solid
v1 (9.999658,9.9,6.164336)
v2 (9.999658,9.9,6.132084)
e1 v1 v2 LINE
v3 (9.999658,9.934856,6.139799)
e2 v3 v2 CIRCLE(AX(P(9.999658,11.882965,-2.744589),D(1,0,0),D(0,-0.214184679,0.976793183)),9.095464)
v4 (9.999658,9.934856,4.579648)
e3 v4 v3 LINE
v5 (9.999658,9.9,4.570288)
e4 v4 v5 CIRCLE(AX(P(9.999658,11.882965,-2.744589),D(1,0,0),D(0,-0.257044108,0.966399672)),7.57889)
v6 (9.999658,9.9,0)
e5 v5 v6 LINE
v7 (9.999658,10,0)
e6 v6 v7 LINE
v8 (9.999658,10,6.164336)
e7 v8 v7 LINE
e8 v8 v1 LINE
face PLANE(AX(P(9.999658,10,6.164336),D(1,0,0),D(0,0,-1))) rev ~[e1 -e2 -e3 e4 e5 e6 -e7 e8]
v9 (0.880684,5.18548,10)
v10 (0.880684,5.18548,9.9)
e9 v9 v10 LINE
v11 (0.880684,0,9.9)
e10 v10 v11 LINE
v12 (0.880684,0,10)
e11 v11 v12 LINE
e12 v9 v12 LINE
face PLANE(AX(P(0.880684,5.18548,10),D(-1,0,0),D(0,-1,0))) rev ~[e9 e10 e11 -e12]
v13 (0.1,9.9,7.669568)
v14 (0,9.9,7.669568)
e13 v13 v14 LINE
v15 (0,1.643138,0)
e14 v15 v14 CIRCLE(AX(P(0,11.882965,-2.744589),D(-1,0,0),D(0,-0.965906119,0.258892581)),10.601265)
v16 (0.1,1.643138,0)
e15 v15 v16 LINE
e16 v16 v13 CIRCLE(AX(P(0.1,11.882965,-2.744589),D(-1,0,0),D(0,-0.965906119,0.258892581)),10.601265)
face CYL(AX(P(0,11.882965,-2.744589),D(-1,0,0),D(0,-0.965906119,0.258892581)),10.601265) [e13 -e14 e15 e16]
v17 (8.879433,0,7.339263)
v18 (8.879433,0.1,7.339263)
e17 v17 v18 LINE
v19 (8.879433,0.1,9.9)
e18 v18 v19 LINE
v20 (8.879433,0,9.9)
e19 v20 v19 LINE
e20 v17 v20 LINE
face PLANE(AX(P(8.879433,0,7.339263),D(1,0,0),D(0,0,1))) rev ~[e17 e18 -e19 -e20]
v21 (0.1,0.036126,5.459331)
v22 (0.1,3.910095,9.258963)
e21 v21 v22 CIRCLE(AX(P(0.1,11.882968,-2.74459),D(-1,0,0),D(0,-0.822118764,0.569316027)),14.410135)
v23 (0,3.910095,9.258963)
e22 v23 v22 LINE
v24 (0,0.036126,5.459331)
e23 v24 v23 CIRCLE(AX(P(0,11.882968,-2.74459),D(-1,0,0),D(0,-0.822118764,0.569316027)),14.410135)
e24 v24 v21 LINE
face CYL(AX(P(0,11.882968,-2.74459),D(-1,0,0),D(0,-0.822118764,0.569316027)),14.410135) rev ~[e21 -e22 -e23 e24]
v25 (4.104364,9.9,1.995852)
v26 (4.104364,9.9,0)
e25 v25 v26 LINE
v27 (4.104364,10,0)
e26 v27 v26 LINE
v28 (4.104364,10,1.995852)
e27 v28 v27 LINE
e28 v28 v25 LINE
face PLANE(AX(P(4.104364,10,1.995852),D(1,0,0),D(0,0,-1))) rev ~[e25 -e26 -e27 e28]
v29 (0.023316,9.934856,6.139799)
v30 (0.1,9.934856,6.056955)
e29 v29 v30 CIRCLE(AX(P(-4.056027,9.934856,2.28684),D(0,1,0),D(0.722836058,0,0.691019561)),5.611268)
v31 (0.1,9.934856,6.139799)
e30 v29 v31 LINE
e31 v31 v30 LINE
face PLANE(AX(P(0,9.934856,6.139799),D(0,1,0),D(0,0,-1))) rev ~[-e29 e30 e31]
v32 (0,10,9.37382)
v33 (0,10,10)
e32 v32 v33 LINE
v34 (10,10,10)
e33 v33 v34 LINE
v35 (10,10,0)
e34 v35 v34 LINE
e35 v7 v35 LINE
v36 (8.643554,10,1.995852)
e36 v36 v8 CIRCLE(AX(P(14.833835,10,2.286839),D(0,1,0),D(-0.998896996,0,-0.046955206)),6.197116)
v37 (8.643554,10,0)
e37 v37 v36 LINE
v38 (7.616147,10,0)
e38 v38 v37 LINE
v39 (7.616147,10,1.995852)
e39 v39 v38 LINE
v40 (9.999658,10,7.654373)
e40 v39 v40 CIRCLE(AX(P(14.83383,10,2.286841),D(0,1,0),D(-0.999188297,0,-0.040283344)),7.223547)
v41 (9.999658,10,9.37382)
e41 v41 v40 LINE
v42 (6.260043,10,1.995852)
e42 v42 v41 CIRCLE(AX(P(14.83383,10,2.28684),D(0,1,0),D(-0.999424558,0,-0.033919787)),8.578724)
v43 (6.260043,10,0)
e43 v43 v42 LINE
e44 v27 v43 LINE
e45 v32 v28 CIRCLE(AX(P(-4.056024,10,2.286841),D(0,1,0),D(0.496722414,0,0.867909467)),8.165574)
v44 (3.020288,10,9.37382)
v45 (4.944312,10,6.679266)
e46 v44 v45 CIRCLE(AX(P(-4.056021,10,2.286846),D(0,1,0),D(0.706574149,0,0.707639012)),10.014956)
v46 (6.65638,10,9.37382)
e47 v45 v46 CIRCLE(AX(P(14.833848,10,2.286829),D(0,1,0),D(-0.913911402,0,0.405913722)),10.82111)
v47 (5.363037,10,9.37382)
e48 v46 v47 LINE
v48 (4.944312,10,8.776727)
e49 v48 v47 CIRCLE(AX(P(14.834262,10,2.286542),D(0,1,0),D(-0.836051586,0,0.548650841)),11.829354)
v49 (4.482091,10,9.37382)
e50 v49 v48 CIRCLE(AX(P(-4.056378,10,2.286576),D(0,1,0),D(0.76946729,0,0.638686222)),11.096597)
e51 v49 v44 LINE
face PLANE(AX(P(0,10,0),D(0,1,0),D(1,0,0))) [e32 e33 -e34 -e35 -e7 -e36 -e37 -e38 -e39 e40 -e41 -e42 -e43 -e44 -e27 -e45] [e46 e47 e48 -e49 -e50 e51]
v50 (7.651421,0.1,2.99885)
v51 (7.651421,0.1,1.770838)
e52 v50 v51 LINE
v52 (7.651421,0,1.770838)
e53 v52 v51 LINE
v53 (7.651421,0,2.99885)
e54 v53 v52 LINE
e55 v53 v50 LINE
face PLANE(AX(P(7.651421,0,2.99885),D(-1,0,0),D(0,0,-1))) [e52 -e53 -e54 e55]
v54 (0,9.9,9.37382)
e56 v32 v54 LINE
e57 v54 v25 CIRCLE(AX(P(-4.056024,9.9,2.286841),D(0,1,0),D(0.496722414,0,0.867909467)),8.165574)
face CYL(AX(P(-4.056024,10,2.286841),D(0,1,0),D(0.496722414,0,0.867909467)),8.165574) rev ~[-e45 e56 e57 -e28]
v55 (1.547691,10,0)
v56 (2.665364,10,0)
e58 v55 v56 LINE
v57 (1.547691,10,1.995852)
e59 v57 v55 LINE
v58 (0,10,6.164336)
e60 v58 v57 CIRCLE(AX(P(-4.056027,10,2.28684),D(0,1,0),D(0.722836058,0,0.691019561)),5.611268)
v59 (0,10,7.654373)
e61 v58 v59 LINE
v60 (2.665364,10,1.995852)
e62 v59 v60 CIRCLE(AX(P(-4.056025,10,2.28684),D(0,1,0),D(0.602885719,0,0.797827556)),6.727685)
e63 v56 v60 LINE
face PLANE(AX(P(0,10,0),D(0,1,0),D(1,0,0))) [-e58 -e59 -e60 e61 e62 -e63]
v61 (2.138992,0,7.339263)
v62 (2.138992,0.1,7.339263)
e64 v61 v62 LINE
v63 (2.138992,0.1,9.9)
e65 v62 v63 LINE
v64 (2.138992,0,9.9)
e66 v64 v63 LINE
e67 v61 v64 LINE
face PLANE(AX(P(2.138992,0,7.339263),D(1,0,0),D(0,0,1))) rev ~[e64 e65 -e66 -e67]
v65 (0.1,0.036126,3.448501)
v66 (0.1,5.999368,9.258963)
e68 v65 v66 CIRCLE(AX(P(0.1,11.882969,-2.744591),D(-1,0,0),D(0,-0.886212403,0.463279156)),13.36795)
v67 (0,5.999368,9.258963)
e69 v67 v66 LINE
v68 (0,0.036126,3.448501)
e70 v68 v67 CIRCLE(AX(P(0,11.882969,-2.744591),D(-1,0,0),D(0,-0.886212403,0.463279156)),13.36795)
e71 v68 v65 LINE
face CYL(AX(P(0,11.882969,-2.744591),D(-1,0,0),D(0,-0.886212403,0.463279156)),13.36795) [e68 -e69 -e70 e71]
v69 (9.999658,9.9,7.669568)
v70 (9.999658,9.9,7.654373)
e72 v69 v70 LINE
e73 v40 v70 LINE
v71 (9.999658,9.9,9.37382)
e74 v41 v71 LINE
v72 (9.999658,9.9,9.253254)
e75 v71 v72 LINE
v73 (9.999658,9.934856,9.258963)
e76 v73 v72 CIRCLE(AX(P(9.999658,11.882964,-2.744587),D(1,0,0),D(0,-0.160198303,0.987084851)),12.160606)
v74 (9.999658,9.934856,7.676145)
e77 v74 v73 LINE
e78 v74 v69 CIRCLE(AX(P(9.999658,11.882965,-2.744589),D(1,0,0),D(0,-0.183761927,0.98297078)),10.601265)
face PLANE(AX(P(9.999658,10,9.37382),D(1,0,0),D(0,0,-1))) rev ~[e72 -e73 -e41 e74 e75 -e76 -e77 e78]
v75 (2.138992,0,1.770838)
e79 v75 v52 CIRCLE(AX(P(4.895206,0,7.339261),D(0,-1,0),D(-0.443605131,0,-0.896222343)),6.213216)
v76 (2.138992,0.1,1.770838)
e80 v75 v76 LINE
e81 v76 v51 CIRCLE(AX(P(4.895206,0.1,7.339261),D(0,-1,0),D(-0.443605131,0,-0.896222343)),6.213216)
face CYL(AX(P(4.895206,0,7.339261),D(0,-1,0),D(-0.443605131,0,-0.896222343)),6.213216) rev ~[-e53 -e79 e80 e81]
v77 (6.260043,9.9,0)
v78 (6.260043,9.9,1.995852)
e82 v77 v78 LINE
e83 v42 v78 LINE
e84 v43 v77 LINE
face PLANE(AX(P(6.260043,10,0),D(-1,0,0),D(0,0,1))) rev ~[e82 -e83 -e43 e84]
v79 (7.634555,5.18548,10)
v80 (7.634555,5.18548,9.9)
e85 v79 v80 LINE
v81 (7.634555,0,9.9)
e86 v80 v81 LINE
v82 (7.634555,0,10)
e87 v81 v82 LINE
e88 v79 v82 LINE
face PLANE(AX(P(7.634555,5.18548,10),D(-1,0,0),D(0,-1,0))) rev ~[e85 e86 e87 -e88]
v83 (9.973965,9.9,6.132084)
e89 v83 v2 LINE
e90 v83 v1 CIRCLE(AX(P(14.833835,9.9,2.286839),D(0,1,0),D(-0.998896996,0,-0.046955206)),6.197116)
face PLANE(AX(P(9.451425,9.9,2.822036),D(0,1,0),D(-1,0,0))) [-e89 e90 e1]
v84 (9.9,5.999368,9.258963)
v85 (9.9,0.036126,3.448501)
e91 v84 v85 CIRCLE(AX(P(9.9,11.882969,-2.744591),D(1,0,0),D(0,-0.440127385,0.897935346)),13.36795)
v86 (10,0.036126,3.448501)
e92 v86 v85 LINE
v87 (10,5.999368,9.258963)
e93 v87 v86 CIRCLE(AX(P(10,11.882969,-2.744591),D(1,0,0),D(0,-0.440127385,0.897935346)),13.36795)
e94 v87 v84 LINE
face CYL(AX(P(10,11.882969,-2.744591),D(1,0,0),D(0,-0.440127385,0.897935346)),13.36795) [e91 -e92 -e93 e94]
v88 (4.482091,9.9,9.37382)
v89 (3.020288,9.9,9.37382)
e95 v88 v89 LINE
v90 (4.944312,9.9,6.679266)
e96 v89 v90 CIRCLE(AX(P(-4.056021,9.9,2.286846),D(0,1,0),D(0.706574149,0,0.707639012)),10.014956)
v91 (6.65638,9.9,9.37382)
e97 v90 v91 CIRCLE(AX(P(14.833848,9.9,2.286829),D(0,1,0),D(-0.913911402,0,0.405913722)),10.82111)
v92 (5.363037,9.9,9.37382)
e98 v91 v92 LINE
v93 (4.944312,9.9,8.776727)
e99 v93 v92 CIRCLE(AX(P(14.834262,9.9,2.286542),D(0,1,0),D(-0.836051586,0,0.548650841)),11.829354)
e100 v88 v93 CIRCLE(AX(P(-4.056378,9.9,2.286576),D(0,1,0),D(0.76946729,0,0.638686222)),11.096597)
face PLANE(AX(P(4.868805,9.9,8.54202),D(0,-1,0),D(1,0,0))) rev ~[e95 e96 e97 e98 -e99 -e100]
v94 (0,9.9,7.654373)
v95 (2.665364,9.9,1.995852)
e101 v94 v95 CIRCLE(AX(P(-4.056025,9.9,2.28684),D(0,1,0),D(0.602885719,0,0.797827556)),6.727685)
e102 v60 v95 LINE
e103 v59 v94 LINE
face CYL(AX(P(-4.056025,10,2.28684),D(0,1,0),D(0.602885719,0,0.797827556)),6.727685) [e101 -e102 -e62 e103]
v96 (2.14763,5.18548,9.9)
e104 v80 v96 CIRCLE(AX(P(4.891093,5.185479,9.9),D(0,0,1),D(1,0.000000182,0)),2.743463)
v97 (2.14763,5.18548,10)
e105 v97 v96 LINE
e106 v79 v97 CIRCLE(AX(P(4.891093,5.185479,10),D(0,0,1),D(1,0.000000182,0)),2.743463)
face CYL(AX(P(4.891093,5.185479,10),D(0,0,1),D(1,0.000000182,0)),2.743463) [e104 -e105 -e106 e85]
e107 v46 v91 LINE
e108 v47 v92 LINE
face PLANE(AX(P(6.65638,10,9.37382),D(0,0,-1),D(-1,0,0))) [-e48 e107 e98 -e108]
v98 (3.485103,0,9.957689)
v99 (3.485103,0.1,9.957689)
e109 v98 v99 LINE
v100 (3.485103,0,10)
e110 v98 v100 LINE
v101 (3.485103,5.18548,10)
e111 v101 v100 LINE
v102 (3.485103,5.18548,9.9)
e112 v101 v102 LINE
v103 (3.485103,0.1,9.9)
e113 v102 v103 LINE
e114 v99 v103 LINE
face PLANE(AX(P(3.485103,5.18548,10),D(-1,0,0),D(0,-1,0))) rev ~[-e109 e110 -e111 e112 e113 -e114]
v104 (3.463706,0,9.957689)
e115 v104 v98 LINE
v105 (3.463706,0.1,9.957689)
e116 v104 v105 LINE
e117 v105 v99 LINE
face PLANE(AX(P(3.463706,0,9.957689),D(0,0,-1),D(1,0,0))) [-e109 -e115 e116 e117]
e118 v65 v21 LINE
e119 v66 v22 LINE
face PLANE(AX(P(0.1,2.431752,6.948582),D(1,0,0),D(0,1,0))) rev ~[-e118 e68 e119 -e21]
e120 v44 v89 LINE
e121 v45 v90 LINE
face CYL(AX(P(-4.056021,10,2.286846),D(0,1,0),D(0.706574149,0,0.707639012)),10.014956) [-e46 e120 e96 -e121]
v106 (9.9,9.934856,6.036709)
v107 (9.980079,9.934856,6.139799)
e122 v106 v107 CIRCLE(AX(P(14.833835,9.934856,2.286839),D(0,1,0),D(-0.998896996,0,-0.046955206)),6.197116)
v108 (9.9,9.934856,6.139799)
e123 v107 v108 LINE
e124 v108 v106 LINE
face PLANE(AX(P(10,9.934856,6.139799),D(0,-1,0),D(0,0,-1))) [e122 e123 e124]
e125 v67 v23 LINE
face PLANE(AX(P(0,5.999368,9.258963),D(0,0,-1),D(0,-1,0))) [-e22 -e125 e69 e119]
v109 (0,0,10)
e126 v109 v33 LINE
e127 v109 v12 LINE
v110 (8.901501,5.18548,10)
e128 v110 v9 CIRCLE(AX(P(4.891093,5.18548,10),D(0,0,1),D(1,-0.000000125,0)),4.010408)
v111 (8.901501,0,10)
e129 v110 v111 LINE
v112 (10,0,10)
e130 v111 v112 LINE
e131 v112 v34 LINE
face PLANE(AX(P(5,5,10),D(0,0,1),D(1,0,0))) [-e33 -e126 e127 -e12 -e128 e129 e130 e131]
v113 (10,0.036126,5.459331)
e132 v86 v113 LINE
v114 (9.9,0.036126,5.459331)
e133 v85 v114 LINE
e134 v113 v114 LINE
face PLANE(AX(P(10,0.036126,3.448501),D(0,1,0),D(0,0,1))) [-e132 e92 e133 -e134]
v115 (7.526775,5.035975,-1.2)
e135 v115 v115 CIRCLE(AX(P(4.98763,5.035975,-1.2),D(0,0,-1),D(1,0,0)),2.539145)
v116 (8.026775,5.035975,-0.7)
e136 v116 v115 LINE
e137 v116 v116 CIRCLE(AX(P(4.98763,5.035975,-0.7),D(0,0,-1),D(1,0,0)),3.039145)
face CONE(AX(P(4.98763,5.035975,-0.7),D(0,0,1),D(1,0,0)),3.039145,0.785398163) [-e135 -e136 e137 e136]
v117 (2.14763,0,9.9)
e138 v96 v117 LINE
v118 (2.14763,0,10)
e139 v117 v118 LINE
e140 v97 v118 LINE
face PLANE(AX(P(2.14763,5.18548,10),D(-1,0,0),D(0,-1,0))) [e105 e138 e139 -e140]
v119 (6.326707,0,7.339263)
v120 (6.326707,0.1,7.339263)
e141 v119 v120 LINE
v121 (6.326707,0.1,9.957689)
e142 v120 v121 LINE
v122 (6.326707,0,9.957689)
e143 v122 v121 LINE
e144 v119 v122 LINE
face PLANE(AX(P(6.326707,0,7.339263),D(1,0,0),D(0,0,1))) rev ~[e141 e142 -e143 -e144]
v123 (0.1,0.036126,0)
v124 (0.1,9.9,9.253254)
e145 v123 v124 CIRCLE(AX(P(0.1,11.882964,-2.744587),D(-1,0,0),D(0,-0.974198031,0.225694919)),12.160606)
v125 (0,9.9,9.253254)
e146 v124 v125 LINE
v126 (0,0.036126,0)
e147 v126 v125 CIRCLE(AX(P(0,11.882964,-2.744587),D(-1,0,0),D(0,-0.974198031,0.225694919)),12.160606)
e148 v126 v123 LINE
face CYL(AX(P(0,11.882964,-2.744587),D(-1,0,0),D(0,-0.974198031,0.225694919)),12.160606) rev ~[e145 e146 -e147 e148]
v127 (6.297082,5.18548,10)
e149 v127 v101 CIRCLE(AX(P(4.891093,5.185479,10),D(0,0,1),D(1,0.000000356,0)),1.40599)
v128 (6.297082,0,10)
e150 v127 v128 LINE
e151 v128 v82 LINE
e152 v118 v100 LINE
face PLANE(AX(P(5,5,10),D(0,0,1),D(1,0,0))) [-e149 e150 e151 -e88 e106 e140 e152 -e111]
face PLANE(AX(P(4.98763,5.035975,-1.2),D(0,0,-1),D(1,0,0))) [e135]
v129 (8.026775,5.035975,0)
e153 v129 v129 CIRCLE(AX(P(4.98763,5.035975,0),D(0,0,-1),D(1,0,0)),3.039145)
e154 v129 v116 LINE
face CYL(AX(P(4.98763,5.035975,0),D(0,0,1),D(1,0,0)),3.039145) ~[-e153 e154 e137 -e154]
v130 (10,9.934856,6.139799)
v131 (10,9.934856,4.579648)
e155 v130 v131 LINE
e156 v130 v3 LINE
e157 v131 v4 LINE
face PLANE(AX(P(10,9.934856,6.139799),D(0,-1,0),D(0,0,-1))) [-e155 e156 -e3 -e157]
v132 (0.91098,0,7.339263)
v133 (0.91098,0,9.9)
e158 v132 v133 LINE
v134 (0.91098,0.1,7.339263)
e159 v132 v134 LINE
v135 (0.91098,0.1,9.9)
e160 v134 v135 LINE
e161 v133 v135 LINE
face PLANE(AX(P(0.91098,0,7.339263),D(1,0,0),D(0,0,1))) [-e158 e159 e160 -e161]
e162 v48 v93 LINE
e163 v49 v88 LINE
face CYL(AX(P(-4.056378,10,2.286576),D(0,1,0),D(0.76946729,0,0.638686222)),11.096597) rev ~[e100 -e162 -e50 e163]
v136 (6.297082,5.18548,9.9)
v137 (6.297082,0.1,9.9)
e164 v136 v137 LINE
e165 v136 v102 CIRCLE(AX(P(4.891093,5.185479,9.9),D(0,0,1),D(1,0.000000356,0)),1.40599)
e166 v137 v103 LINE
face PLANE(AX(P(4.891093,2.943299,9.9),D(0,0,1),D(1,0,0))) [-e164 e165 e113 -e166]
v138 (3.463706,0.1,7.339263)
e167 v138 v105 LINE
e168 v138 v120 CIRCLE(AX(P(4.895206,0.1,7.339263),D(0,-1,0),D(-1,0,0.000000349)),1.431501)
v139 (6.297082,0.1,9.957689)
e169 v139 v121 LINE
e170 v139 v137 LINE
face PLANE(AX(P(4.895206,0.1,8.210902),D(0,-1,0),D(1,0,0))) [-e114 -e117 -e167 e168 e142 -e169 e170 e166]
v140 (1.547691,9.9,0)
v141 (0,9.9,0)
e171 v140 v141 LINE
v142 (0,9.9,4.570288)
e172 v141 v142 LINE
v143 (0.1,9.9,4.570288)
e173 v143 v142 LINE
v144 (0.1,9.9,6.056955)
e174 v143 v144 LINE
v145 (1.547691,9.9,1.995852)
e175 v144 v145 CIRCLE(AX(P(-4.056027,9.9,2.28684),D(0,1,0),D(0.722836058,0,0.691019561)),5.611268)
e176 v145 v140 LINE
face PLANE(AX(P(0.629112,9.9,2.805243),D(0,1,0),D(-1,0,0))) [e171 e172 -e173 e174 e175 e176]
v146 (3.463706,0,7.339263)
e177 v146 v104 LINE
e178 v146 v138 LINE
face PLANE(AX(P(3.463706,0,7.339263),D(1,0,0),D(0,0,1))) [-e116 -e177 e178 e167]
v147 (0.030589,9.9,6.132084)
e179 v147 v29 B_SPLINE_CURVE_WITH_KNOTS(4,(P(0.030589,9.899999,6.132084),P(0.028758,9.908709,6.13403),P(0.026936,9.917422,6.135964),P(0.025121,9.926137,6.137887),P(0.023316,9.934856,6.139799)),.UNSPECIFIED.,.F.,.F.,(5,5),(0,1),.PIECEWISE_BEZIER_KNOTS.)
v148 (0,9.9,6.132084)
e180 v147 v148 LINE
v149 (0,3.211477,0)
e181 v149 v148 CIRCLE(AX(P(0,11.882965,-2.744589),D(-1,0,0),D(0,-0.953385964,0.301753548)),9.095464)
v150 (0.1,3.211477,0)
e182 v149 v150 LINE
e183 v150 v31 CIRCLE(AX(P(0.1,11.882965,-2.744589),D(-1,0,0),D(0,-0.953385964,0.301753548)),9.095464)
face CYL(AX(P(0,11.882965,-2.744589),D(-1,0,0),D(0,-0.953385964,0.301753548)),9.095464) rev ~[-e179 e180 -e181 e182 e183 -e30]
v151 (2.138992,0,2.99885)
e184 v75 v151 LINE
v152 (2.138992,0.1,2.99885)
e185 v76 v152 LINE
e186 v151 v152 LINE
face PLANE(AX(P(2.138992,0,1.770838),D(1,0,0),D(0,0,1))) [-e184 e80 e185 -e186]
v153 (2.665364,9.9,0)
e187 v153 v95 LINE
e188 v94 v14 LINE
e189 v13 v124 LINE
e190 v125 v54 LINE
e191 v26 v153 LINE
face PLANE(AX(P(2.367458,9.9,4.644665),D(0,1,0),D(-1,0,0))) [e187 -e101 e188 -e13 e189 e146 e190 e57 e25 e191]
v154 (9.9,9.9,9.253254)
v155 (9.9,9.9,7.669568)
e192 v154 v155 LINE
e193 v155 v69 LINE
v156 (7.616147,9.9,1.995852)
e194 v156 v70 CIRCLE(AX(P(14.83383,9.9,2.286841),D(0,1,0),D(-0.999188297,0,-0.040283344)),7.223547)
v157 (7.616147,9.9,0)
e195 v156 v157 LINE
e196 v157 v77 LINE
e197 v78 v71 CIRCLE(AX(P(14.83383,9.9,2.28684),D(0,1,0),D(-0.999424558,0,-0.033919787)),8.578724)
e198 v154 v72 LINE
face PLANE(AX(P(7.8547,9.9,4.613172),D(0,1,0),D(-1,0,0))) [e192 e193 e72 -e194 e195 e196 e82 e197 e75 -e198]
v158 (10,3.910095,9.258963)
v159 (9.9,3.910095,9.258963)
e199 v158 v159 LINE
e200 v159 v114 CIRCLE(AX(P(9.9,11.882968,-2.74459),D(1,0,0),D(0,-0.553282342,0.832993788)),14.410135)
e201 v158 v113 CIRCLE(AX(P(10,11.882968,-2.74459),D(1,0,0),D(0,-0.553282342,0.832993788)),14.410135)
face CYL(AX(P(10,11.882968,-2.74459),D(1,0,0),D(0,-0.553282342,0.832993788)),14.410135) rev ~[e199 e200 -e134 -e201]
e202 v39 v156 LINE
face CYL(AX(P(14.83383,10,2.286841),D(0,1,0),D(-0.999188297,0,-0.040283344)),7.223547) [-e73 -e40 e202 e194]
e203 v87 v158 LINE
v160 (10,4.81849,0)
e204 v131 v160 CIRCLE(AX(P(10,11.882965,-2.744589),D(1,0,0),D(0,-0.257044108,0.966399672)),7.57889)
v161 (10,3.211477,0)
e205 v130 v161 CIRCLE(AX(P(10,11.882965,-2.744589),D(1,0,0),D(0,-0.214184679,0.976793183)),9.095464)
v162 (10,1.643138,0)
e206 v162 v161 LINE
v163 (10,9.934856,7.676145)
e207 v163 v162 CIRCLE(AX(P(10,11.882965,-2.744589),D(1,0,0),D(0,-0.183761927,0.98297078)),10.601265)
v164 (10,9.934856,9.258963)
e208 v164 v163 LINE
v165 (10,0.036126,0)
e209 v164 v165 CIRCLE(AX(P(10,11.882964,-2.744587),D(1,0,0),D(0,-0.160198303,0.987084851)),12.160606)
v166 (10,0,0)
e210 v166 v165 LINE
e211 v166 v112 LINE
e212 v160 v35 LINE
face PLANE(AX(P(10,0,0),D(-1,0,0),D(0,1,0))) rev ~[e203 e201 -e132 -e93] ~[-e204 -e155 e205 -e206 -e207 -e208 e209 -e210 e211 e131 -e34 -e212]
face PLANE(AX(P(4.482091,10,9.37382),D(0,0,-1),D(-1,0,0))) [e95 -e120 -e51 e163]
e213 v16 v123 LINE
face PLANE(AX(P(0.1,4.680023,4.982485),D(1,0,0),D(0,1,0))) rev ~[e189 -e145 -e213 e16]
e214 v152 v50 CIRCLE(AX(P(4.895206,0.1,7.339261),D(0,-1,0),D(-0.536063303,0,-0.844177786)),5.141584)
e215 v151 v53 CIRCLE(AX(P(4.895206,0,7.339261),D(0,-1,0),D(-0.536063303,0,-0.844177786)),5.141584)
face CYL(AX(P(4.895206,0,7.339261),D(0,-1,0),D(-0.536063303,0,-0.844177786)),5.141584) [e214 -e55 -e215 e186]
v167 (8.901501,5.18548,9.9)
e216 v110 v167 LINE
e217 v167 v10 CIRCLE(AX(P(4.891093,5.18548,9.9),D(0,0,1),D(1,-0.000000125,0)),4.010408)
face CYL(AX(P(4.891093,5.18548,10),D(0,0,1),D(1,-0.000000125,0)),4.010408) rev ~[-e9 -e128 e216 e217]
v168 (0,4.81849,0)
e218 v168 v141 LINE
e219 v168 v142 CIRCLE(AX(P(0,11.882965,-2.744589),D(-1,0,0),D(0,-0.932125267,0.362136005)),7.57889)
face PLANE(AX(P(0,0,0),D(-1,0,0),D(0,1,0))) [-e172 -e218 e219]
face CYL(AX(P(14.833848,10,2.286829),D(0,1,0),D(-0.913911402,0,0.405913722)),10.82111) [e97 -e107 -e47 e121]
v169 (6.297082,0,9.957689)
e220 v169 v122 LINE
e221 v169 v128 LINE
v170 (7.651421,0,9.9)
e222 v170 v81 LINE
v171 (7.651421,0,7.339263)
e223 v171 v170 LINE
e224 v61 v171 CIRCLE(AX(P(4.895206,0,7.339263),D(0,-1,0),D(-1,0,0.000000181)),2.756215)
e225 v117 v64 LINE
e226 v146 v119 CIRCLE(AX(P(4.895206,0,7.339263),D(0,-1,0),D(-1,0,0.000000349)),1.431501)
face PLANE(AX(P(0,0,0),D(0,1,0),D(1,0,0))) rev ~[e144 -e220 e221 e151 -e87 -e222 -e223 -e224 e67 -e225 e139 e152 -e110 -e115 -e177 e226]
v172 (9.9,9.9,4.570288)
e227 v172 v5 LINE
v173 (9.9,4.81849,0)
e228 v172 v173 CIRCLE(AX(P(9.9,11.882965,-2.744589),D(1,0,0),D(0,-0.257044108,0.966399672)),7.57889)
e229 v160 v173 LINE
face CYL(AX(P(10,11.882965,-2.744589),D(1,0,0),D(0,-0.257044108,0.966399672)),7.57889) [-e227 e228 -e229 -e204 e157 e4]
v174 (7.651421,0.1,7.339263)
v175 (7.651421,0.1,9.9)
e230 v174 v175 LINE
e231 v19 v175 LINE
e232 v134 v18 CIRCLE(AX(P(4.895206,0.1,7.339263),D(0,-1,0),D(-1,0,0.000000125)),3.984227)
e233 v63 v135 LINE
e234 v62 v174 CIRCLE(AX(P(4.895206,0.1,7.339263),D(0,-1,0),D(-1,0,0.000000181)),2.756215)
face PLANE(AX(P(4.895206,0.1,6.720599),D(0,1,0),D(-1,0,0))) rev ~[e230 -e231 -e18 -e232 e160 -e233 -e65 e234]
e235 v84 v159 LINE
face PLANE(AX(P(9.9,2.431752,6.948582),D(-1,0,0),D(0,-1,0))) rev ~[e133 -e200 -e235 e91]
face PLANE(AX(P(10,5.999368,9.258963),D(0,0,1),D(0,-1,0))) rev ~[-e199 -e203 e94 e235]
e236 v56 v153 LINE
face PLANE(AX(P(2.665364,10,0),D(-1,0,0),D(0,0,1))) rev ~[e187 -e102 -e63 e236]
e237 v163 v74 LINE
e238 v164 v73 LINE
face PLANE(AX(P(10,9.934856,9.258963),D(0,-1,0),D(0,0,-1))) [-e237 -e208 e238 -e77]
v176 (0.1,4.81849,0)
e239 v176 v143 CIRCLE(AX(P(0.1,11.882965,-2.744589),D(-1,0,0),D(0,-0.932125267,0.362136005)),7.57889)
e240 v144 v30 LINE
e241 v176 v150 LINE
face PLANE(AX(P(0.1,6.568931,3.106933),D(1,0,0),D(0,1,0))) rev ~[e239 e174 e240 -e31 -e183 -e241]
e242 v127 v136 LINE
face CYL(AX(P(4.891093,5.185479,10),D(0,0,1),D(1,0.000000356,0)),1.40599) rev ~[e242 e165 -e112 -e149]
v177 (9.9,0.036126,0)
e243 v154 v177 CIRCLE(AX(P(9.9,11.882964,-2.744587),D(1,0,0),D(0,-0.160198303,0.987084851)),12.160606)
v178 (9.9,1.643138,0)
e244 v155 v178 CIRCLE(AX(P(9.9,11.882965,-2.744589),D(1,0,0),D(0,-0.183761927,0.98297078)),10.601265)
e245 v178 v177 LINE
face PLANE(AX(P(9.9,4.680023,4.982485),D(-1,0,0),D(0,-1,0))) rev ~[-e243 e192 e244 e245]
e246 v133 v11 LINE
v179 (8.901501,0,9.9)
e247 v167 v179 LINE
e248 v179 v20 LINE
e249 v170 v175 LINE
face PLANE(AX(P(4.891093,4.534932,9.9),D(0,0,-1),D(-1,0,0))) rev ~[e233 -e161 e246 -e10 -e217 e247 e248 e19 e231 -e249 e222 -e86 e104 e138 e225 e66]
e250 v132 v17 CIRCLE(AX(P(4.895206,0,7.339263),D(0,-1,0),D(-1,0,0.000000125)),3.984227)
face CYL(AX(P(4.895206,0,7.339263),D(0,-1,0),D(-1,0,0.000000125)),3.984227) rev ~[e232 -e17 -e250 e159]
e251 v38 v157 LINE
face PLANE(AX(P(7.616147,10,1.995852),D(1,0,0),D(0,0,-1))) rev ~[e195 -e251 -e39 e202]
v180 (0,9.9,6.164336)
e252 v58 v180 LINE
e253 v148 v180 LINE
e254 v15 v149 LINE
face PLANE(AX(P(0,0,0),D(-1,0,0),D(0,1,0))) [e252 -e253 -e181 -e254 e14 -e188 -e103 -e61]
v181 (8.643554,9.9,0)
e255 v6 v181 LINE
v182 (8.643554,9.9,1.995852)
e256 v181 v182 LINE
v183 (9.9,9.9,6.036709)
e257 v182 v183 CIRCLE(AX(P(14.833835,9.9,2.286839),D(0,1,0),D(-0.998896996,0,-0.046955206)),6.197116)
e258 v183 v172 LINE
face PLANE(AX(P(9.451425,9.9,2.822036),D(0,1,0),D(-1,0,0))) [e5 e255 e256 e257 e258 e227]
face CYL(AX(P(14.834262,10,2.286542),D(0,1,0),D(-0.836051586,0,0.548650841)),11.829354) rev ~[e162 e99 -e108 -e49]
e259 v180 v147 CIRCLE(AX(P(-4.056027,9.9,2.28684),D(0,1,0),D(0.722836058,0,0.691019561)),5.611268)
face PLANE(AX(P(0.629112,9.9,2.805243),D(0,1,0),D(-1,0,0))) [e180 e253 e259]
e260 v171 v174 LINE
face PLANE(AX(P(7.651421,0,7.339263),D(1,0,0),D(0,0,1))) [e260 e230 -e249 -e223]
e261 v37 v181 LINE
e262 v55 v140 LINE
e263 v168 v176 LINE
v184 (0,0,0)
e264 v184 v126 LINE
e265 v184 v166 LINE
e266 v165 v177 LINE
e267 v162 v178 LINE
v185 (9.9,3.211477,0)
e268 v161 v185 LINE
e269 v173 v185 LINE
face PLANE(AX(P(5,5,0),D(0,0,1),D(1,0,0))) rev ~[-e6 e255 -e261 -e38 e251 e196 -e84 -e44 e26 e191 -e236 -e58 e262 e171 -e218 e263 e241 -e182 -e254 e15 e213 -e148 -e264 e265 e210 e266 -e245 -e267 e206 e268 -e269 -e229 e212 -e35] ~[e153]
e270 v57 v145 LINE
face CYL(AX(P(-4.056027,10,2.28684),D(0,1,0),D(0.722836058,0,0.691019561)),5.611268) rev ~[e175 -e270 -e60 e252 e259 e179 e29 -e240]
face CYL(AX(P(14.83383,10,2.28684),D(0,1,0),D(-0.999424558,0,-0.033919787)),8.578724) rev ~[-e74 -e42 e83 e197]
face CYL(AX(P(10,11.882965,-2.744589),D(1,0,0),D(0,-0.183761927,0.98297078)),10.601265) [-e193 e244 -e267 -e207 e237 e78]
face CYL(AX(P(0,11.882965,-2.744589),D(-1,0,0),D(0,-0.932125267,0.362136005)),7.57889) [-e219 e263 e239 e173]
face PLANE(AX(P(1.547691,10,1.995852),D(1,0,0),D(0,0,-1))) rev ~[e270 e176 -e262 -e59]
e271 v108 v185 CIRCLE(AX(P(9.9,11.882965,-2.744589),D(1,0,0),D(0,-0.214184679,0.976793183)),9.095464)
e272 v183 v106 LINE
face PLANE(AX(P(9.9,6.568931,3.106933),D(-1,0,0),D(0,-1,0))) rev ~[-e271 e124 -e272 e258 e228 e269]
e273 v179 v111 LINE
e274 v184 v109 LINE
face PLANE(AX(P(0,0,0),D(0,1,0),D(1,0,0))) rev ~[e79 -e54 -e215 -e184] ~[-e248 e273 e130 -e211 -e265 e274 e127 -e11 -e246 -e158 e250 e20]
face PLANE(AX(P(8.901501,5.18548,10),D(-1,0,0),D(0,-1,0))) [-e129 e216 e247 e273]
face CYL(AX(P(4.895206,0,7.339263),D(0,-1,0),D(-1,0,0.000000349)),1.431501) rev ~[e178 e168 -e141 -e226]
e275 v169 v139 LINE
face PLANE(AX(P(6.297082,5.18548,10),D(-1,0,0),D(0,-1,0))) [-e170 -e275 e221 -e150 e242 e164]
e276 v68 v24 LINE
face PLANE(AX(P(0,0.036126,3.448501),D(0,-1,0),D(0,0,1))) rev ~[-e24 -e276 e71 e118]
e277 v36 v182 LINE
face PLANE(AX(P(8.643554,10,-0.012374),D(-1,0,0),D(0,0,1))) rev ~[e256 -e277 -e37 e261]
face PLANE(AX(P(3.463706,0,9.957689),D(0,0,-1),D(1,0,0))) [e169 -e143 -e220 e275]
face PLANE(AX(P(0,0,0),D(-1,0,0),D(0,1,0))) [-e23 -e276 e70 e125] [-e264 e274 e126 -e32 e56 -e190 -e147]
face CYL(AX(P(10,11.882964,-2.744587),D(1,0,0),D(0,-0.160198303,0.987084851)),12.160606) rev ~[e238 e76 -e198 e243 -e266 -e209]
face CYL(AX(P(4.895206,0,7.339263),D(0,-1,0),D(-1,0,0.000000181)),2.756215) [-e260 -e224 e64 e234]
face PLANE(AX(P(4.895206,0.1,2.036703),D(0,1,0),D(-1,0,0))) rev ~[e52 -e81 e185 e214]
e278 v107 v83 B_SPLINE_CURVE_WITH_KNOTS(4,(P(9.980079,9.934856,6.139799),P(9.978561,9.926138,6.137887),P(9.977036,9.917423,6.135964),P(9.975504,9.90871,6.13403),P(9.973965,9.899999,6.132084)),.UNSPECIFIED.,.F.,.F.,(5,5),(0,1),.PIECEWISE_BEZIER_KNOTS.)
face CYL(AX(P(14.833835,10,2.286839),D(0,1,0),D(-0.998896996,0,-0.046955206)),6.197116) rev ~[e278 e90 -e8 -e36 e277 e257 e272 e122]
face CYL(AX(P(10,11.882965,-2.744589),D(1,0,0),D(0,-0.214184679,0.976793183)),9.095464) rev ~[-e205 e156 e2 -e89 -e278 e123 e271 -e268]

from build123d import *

# Parameters (mm, degrees)
BOX_W           = 10
BOX_H           = 10
BOX_DEPTH       = 10
POCKET_DEPTH    = 0.1
POCKET001_DEPTH = 0.1
POCKET002_DEPTH = 0.1
POCKET003_DEPTH = 0.1
POCKET004_DEPTH = 0.1
SKETCH004_R     = 3.039145
PAD_DEPTH       = 1.2
CHAMFER_SIZE    = 0.5


with BuildPart() as part:
    # Box → Box (new body)
    with BuildSketch(Plane.XY):
        with Locations((5, 5)):
            Rectangle(BOX_W, BOX_H)
    extrude(amount=BOX_DEPTH)

    # Sketch → Pocket (cut)
    with BuildSketch(Plane.XZ):
        with BuildLine():
            ThreePointArc((3.463706, 7.339263), (4.895207, 5.907762), (6.326707, 7.339263))
            Line((6.326707, 7.339263), (6.326707, 9.957689))
            Line((3.463706, 9.957689), (6.326707, 9.957689))
            Line((3.463706, 7.339263), (3.463706, 9.957689))
        make_face()
        with BuildLine():
            ThreePointArc((2.138992, 7.339263), (4.895207, 4.583048), (7.651421, 7.339263))
            Line((7.651421, 7.339263), (7.651421, 9.957689))
            Line((7.651421, 9.957689), (8.879433, 9.957689))
            Line((8.879433, 7.339263), (8.879433, 9.957689))
            ThreePointArc((0.91098, 7.339263), (4.895207, 3.355036), (8.879433, 7.339263))
            Line((0.91098, 7.339263), (0.91098, 9.957689))
            Line((0.91098, 9.957689), (2.138992, 9.957689))
            Line((2.138992, 7.339263), (2.138992, 9.957689))
        make_face()
        with BuildLine():
            ThreePointArc((2.138992, 2.99885), (4.895207, 2.197677), (7.651421, 2.99885))
            Line((7.651421, 2.99885), (7.651421, 1.770838))
            ThreePointArc((2.138992, 1.770838), (4.895207, 1.126045), (7.651421, 1.770838))
            Line((2.138992, 1.770838), (2.138992, 2.99885))
        make_face()
    extrude(amount=-POCKET_DEPTH, mode=Mode.SUBTRACT)

    # Sketch002 → Pocket001 (cut)
    with BuildSketch(Plane(origin=(0, 0, 0), x_dir=(0, -1, 0), z_dir=(-1, 0, 0))):
        with BuildLine():
            ThreePointArc((-4.81849, 0), (-6.828268, 2.9025), (-9.934856, 4.579648))
            Line((-9.934856, 6.139799), (-9.934856, 4.579648))
            ThreePointArc((-3.211477, 0), (-5.749594, 3.971752), (-9.934856, 6.139799))
            Line((-4.81849, 0), (-3.211477, 0))
        make_face()
        with BuildLine():
            ThreePointArc((-1.643138, 0), (-4.681073, 5.034844), (-9.934856, 7.676145))
            Line((-9.934856, 9.258963), (-9.934856, 7.676145))
            ThreePointArc((-0.036126, 0), (-3.575905, 6.136466), (-9.934856, 9.258963))
            Line((-1.643138, 0), (-0.036126, 0))
        make_face()
        with BuildLine():
            ThreePointArc((-0.036126, 3.448501), (-2.553846, 6.82983), (-5.999368, 9.258963))
            Line((-5.999368, 9.258963), (-3.910095, 9.258963))
            ThreePointArc((-0.036126, 5.459331), (-1.792647, 7.543141), (-3.910095, 9.258963))
            Line((-0.036126, 3.448501), (-0.036126, 5.459331))
        make_face()
    extrude(amount=-POCKET001_DEPTH, mode=Mode.SUBTRACT)

    # MirroredSketch → Pocket002 (cut)
    with BuildSketch(Plane.YZ.offset(10)):
        with BuildLine():
            ThreePointArc((9.934856, 4.579648), (6.828268, 2.9025), (4.81849, 0))
            Line((4.81849, 0), (3.211477, 0))
            ThreePointArc((9.934856, 6.139799), (5.749594, 3.971752), (3.211477, 0))
            Line((9.934856, 6.139799), (9.934856, 4.579648))
        make_face()
        with BuildLine():
            ThreePointArc((9.934856, 7.676145), (4.681073, 5.034844), (1.643138, 0))
            Line((1.643138, 0), (0.036126, 0))
            ThreePointArc((9.934856, 9.258963), (3.575905, 6.136466), (0.036126, 0))
            Line((9.934856, 9.258963), (9.934856, 7.676145))
        make_face()
        with BuildLine():
            ThreePointArc((5.999368, 9.258963), (2.553846, 6.82983), (0.036126, 3.448501))
            Line((0.036126, 3.448501), (0.036126, 5.459331))
            ThreePointArc((3.910095, 9.258963), (1.792647, 7.543141), (0.036126, 5.459331))
            Line((5.999368, 9.258963), (3.910095, 9.258963))
        make_face()
    extrude(amount=-POCKET002_DEPTH, mode=Mode.SUBTRACT)

    # Sketch003 → Pocket003 (cut)
    with BuildSketch(Plane(origin=(0, 10, 0), x_dir=(-1, 0, 0), z_dir=(0, 1, 0))):
        with BuildLine():
            Line((-9.999658, -0.012374), (-8.643554, -0.012374))
            Line((-8.643554, -0.012374), (-8.643554, 1.995852))
            ThreePointArc((-8.643554, 1.995852), (-8.940726, 4.204003), (-9.999658, 6.164336))
            Line((-9.999658, 6.164336), (-9.999658, -0.012374))
        make_face()
        with BuildLine():
            Line((-1.547691, 0), (0, 0))
            Line((0, 0), (0, 6.164336))
            ThreePointArc((0, 6.164336), (-1.204366, 4.239939), (-1.547691, 1.995852))
            Line((-1.547691, 1.995852), (-1.547691, 0))
        make_face()
        with BuildLine():
            Line((-4.104364, 0), (-2.665364, 0))
            Line((-2.665364, 0), (-2.665364, 1.995852))
            ThreePointArc((0, 7.654373), (-2.030261, 5.153697), (-2.665364, 1.995852))
            Line((0, 7.654373), (0, 9.37382))
            ThreePointArc((0, 9.37382), (-3.079716, 6.256453), (-4.104364, 1.995852))
            Line((-4.104364, 1.995852), (-4.104364, 0))
        make_face()
        with BuildLine():
            Line((-7.616147, 0), (-6.260043, 0))
            Line((-6.260043, 0), (-6.260043, 1.995852))
            ThreePointArc((-6.260043, 1.995852), (-7.181906, 6.165314), (-9.999658, 9.37382))
            Line((-9.999658, 9.37382), (-9.999658, 7.654373))
            ThreePointArc((-7.616147, 1.995852), (-8.176765, 5.090964), (-9.999658, 7.654373))
            Line((-7.616147, 1.995852), (-7.616147, 0))
        make_face()
        with BuildLine():
            Line((-6.65638, 9.37382), (-5.363037, 9.37382))
            ThreePointArc((-4.944312, 8.776727), (-5.149072, 9.078501), (-5.363037, 9.37382))
            ThreePointArc((-4.482091, 9.37382), (-4.718282, 9.079206), (-4.944312, 8.776727))
            Line((-4.482091, 9.37382), (-3.020288, 9.37382))
            ThreePointArc((-3.020288, 9.37382), (-4.094424, 8.106605), (-4.944312, 6.679266))
            ThreePointArc((-4.944312, 6.679266), (-5.700431, 8.090028), (-6.65638, 9.37382))
        make_face()
    extrude(amount=-POCKET003_DEPTH, mode=Mode.SUBTRACT)

    # Sketch001 → Pocket004 (cut)
    with BuildSketch(Plane.XY.offset(10)):
        with BuildLine():
            ThreePointArc((7.634555, 5.18548), (4.891092, 7.928942), (2.14763, 5.18548))
            Line((2.14763, 5.18548), (2.14763, -0.110033))
            Line((0.880684, -0.110033), (2.14763, -0.110033))
            Line((0.880684, 5.18548), (0.880684, -0.110033))
            ThreePointArc((8.901501, 5.18548), (4.891092, 9.195889), (0.880684, 5.18548))
            Line((8.901501, 5.18548), (8.901501, -0.110033))
            Line((7.634555, -0.110033), (8.901501, -0.110033))
            Line((7.634555, 5.18548), (7.634555, -0.110033))
        make_face()
        with BuildLine():
            ThreePointArc((6.297082, 5.18548), (4.891092, 6.591469), (3.485103, 5.18548))
            Line((3.485103, 5.18548), (3.485103, -0.110033))
            Line((3.485103, -0.110033), (6.297082, -0.110033))
            Line((6.297082, 5.18548), (6.297082, -0.110033))
        make_face()
    extrude(amount=-POCKET004_DEPTH, mode=Mode.SUBTRACT)

    # Sketch004 → Pad (new body)
    with BuildSketch(Plane(origin=(0, 0, 0), x_dir=(1, 0, 0), z_dir=(0, 0, -1))):
        with Locations((4.98763, -5.035975)):
            Circle(SKETCH004_R)
    extrude(amount=PAD_DEPTH)

    # Chamfer
    chamfer_edges = [part.edges().sort_by_distance(p)[0] for p in [
        (1.948485, 5.035975, -1.2),
    ]]
    chamfer(chamfer_edges, length=CHAMFER_SIZE)


solid = part.part
